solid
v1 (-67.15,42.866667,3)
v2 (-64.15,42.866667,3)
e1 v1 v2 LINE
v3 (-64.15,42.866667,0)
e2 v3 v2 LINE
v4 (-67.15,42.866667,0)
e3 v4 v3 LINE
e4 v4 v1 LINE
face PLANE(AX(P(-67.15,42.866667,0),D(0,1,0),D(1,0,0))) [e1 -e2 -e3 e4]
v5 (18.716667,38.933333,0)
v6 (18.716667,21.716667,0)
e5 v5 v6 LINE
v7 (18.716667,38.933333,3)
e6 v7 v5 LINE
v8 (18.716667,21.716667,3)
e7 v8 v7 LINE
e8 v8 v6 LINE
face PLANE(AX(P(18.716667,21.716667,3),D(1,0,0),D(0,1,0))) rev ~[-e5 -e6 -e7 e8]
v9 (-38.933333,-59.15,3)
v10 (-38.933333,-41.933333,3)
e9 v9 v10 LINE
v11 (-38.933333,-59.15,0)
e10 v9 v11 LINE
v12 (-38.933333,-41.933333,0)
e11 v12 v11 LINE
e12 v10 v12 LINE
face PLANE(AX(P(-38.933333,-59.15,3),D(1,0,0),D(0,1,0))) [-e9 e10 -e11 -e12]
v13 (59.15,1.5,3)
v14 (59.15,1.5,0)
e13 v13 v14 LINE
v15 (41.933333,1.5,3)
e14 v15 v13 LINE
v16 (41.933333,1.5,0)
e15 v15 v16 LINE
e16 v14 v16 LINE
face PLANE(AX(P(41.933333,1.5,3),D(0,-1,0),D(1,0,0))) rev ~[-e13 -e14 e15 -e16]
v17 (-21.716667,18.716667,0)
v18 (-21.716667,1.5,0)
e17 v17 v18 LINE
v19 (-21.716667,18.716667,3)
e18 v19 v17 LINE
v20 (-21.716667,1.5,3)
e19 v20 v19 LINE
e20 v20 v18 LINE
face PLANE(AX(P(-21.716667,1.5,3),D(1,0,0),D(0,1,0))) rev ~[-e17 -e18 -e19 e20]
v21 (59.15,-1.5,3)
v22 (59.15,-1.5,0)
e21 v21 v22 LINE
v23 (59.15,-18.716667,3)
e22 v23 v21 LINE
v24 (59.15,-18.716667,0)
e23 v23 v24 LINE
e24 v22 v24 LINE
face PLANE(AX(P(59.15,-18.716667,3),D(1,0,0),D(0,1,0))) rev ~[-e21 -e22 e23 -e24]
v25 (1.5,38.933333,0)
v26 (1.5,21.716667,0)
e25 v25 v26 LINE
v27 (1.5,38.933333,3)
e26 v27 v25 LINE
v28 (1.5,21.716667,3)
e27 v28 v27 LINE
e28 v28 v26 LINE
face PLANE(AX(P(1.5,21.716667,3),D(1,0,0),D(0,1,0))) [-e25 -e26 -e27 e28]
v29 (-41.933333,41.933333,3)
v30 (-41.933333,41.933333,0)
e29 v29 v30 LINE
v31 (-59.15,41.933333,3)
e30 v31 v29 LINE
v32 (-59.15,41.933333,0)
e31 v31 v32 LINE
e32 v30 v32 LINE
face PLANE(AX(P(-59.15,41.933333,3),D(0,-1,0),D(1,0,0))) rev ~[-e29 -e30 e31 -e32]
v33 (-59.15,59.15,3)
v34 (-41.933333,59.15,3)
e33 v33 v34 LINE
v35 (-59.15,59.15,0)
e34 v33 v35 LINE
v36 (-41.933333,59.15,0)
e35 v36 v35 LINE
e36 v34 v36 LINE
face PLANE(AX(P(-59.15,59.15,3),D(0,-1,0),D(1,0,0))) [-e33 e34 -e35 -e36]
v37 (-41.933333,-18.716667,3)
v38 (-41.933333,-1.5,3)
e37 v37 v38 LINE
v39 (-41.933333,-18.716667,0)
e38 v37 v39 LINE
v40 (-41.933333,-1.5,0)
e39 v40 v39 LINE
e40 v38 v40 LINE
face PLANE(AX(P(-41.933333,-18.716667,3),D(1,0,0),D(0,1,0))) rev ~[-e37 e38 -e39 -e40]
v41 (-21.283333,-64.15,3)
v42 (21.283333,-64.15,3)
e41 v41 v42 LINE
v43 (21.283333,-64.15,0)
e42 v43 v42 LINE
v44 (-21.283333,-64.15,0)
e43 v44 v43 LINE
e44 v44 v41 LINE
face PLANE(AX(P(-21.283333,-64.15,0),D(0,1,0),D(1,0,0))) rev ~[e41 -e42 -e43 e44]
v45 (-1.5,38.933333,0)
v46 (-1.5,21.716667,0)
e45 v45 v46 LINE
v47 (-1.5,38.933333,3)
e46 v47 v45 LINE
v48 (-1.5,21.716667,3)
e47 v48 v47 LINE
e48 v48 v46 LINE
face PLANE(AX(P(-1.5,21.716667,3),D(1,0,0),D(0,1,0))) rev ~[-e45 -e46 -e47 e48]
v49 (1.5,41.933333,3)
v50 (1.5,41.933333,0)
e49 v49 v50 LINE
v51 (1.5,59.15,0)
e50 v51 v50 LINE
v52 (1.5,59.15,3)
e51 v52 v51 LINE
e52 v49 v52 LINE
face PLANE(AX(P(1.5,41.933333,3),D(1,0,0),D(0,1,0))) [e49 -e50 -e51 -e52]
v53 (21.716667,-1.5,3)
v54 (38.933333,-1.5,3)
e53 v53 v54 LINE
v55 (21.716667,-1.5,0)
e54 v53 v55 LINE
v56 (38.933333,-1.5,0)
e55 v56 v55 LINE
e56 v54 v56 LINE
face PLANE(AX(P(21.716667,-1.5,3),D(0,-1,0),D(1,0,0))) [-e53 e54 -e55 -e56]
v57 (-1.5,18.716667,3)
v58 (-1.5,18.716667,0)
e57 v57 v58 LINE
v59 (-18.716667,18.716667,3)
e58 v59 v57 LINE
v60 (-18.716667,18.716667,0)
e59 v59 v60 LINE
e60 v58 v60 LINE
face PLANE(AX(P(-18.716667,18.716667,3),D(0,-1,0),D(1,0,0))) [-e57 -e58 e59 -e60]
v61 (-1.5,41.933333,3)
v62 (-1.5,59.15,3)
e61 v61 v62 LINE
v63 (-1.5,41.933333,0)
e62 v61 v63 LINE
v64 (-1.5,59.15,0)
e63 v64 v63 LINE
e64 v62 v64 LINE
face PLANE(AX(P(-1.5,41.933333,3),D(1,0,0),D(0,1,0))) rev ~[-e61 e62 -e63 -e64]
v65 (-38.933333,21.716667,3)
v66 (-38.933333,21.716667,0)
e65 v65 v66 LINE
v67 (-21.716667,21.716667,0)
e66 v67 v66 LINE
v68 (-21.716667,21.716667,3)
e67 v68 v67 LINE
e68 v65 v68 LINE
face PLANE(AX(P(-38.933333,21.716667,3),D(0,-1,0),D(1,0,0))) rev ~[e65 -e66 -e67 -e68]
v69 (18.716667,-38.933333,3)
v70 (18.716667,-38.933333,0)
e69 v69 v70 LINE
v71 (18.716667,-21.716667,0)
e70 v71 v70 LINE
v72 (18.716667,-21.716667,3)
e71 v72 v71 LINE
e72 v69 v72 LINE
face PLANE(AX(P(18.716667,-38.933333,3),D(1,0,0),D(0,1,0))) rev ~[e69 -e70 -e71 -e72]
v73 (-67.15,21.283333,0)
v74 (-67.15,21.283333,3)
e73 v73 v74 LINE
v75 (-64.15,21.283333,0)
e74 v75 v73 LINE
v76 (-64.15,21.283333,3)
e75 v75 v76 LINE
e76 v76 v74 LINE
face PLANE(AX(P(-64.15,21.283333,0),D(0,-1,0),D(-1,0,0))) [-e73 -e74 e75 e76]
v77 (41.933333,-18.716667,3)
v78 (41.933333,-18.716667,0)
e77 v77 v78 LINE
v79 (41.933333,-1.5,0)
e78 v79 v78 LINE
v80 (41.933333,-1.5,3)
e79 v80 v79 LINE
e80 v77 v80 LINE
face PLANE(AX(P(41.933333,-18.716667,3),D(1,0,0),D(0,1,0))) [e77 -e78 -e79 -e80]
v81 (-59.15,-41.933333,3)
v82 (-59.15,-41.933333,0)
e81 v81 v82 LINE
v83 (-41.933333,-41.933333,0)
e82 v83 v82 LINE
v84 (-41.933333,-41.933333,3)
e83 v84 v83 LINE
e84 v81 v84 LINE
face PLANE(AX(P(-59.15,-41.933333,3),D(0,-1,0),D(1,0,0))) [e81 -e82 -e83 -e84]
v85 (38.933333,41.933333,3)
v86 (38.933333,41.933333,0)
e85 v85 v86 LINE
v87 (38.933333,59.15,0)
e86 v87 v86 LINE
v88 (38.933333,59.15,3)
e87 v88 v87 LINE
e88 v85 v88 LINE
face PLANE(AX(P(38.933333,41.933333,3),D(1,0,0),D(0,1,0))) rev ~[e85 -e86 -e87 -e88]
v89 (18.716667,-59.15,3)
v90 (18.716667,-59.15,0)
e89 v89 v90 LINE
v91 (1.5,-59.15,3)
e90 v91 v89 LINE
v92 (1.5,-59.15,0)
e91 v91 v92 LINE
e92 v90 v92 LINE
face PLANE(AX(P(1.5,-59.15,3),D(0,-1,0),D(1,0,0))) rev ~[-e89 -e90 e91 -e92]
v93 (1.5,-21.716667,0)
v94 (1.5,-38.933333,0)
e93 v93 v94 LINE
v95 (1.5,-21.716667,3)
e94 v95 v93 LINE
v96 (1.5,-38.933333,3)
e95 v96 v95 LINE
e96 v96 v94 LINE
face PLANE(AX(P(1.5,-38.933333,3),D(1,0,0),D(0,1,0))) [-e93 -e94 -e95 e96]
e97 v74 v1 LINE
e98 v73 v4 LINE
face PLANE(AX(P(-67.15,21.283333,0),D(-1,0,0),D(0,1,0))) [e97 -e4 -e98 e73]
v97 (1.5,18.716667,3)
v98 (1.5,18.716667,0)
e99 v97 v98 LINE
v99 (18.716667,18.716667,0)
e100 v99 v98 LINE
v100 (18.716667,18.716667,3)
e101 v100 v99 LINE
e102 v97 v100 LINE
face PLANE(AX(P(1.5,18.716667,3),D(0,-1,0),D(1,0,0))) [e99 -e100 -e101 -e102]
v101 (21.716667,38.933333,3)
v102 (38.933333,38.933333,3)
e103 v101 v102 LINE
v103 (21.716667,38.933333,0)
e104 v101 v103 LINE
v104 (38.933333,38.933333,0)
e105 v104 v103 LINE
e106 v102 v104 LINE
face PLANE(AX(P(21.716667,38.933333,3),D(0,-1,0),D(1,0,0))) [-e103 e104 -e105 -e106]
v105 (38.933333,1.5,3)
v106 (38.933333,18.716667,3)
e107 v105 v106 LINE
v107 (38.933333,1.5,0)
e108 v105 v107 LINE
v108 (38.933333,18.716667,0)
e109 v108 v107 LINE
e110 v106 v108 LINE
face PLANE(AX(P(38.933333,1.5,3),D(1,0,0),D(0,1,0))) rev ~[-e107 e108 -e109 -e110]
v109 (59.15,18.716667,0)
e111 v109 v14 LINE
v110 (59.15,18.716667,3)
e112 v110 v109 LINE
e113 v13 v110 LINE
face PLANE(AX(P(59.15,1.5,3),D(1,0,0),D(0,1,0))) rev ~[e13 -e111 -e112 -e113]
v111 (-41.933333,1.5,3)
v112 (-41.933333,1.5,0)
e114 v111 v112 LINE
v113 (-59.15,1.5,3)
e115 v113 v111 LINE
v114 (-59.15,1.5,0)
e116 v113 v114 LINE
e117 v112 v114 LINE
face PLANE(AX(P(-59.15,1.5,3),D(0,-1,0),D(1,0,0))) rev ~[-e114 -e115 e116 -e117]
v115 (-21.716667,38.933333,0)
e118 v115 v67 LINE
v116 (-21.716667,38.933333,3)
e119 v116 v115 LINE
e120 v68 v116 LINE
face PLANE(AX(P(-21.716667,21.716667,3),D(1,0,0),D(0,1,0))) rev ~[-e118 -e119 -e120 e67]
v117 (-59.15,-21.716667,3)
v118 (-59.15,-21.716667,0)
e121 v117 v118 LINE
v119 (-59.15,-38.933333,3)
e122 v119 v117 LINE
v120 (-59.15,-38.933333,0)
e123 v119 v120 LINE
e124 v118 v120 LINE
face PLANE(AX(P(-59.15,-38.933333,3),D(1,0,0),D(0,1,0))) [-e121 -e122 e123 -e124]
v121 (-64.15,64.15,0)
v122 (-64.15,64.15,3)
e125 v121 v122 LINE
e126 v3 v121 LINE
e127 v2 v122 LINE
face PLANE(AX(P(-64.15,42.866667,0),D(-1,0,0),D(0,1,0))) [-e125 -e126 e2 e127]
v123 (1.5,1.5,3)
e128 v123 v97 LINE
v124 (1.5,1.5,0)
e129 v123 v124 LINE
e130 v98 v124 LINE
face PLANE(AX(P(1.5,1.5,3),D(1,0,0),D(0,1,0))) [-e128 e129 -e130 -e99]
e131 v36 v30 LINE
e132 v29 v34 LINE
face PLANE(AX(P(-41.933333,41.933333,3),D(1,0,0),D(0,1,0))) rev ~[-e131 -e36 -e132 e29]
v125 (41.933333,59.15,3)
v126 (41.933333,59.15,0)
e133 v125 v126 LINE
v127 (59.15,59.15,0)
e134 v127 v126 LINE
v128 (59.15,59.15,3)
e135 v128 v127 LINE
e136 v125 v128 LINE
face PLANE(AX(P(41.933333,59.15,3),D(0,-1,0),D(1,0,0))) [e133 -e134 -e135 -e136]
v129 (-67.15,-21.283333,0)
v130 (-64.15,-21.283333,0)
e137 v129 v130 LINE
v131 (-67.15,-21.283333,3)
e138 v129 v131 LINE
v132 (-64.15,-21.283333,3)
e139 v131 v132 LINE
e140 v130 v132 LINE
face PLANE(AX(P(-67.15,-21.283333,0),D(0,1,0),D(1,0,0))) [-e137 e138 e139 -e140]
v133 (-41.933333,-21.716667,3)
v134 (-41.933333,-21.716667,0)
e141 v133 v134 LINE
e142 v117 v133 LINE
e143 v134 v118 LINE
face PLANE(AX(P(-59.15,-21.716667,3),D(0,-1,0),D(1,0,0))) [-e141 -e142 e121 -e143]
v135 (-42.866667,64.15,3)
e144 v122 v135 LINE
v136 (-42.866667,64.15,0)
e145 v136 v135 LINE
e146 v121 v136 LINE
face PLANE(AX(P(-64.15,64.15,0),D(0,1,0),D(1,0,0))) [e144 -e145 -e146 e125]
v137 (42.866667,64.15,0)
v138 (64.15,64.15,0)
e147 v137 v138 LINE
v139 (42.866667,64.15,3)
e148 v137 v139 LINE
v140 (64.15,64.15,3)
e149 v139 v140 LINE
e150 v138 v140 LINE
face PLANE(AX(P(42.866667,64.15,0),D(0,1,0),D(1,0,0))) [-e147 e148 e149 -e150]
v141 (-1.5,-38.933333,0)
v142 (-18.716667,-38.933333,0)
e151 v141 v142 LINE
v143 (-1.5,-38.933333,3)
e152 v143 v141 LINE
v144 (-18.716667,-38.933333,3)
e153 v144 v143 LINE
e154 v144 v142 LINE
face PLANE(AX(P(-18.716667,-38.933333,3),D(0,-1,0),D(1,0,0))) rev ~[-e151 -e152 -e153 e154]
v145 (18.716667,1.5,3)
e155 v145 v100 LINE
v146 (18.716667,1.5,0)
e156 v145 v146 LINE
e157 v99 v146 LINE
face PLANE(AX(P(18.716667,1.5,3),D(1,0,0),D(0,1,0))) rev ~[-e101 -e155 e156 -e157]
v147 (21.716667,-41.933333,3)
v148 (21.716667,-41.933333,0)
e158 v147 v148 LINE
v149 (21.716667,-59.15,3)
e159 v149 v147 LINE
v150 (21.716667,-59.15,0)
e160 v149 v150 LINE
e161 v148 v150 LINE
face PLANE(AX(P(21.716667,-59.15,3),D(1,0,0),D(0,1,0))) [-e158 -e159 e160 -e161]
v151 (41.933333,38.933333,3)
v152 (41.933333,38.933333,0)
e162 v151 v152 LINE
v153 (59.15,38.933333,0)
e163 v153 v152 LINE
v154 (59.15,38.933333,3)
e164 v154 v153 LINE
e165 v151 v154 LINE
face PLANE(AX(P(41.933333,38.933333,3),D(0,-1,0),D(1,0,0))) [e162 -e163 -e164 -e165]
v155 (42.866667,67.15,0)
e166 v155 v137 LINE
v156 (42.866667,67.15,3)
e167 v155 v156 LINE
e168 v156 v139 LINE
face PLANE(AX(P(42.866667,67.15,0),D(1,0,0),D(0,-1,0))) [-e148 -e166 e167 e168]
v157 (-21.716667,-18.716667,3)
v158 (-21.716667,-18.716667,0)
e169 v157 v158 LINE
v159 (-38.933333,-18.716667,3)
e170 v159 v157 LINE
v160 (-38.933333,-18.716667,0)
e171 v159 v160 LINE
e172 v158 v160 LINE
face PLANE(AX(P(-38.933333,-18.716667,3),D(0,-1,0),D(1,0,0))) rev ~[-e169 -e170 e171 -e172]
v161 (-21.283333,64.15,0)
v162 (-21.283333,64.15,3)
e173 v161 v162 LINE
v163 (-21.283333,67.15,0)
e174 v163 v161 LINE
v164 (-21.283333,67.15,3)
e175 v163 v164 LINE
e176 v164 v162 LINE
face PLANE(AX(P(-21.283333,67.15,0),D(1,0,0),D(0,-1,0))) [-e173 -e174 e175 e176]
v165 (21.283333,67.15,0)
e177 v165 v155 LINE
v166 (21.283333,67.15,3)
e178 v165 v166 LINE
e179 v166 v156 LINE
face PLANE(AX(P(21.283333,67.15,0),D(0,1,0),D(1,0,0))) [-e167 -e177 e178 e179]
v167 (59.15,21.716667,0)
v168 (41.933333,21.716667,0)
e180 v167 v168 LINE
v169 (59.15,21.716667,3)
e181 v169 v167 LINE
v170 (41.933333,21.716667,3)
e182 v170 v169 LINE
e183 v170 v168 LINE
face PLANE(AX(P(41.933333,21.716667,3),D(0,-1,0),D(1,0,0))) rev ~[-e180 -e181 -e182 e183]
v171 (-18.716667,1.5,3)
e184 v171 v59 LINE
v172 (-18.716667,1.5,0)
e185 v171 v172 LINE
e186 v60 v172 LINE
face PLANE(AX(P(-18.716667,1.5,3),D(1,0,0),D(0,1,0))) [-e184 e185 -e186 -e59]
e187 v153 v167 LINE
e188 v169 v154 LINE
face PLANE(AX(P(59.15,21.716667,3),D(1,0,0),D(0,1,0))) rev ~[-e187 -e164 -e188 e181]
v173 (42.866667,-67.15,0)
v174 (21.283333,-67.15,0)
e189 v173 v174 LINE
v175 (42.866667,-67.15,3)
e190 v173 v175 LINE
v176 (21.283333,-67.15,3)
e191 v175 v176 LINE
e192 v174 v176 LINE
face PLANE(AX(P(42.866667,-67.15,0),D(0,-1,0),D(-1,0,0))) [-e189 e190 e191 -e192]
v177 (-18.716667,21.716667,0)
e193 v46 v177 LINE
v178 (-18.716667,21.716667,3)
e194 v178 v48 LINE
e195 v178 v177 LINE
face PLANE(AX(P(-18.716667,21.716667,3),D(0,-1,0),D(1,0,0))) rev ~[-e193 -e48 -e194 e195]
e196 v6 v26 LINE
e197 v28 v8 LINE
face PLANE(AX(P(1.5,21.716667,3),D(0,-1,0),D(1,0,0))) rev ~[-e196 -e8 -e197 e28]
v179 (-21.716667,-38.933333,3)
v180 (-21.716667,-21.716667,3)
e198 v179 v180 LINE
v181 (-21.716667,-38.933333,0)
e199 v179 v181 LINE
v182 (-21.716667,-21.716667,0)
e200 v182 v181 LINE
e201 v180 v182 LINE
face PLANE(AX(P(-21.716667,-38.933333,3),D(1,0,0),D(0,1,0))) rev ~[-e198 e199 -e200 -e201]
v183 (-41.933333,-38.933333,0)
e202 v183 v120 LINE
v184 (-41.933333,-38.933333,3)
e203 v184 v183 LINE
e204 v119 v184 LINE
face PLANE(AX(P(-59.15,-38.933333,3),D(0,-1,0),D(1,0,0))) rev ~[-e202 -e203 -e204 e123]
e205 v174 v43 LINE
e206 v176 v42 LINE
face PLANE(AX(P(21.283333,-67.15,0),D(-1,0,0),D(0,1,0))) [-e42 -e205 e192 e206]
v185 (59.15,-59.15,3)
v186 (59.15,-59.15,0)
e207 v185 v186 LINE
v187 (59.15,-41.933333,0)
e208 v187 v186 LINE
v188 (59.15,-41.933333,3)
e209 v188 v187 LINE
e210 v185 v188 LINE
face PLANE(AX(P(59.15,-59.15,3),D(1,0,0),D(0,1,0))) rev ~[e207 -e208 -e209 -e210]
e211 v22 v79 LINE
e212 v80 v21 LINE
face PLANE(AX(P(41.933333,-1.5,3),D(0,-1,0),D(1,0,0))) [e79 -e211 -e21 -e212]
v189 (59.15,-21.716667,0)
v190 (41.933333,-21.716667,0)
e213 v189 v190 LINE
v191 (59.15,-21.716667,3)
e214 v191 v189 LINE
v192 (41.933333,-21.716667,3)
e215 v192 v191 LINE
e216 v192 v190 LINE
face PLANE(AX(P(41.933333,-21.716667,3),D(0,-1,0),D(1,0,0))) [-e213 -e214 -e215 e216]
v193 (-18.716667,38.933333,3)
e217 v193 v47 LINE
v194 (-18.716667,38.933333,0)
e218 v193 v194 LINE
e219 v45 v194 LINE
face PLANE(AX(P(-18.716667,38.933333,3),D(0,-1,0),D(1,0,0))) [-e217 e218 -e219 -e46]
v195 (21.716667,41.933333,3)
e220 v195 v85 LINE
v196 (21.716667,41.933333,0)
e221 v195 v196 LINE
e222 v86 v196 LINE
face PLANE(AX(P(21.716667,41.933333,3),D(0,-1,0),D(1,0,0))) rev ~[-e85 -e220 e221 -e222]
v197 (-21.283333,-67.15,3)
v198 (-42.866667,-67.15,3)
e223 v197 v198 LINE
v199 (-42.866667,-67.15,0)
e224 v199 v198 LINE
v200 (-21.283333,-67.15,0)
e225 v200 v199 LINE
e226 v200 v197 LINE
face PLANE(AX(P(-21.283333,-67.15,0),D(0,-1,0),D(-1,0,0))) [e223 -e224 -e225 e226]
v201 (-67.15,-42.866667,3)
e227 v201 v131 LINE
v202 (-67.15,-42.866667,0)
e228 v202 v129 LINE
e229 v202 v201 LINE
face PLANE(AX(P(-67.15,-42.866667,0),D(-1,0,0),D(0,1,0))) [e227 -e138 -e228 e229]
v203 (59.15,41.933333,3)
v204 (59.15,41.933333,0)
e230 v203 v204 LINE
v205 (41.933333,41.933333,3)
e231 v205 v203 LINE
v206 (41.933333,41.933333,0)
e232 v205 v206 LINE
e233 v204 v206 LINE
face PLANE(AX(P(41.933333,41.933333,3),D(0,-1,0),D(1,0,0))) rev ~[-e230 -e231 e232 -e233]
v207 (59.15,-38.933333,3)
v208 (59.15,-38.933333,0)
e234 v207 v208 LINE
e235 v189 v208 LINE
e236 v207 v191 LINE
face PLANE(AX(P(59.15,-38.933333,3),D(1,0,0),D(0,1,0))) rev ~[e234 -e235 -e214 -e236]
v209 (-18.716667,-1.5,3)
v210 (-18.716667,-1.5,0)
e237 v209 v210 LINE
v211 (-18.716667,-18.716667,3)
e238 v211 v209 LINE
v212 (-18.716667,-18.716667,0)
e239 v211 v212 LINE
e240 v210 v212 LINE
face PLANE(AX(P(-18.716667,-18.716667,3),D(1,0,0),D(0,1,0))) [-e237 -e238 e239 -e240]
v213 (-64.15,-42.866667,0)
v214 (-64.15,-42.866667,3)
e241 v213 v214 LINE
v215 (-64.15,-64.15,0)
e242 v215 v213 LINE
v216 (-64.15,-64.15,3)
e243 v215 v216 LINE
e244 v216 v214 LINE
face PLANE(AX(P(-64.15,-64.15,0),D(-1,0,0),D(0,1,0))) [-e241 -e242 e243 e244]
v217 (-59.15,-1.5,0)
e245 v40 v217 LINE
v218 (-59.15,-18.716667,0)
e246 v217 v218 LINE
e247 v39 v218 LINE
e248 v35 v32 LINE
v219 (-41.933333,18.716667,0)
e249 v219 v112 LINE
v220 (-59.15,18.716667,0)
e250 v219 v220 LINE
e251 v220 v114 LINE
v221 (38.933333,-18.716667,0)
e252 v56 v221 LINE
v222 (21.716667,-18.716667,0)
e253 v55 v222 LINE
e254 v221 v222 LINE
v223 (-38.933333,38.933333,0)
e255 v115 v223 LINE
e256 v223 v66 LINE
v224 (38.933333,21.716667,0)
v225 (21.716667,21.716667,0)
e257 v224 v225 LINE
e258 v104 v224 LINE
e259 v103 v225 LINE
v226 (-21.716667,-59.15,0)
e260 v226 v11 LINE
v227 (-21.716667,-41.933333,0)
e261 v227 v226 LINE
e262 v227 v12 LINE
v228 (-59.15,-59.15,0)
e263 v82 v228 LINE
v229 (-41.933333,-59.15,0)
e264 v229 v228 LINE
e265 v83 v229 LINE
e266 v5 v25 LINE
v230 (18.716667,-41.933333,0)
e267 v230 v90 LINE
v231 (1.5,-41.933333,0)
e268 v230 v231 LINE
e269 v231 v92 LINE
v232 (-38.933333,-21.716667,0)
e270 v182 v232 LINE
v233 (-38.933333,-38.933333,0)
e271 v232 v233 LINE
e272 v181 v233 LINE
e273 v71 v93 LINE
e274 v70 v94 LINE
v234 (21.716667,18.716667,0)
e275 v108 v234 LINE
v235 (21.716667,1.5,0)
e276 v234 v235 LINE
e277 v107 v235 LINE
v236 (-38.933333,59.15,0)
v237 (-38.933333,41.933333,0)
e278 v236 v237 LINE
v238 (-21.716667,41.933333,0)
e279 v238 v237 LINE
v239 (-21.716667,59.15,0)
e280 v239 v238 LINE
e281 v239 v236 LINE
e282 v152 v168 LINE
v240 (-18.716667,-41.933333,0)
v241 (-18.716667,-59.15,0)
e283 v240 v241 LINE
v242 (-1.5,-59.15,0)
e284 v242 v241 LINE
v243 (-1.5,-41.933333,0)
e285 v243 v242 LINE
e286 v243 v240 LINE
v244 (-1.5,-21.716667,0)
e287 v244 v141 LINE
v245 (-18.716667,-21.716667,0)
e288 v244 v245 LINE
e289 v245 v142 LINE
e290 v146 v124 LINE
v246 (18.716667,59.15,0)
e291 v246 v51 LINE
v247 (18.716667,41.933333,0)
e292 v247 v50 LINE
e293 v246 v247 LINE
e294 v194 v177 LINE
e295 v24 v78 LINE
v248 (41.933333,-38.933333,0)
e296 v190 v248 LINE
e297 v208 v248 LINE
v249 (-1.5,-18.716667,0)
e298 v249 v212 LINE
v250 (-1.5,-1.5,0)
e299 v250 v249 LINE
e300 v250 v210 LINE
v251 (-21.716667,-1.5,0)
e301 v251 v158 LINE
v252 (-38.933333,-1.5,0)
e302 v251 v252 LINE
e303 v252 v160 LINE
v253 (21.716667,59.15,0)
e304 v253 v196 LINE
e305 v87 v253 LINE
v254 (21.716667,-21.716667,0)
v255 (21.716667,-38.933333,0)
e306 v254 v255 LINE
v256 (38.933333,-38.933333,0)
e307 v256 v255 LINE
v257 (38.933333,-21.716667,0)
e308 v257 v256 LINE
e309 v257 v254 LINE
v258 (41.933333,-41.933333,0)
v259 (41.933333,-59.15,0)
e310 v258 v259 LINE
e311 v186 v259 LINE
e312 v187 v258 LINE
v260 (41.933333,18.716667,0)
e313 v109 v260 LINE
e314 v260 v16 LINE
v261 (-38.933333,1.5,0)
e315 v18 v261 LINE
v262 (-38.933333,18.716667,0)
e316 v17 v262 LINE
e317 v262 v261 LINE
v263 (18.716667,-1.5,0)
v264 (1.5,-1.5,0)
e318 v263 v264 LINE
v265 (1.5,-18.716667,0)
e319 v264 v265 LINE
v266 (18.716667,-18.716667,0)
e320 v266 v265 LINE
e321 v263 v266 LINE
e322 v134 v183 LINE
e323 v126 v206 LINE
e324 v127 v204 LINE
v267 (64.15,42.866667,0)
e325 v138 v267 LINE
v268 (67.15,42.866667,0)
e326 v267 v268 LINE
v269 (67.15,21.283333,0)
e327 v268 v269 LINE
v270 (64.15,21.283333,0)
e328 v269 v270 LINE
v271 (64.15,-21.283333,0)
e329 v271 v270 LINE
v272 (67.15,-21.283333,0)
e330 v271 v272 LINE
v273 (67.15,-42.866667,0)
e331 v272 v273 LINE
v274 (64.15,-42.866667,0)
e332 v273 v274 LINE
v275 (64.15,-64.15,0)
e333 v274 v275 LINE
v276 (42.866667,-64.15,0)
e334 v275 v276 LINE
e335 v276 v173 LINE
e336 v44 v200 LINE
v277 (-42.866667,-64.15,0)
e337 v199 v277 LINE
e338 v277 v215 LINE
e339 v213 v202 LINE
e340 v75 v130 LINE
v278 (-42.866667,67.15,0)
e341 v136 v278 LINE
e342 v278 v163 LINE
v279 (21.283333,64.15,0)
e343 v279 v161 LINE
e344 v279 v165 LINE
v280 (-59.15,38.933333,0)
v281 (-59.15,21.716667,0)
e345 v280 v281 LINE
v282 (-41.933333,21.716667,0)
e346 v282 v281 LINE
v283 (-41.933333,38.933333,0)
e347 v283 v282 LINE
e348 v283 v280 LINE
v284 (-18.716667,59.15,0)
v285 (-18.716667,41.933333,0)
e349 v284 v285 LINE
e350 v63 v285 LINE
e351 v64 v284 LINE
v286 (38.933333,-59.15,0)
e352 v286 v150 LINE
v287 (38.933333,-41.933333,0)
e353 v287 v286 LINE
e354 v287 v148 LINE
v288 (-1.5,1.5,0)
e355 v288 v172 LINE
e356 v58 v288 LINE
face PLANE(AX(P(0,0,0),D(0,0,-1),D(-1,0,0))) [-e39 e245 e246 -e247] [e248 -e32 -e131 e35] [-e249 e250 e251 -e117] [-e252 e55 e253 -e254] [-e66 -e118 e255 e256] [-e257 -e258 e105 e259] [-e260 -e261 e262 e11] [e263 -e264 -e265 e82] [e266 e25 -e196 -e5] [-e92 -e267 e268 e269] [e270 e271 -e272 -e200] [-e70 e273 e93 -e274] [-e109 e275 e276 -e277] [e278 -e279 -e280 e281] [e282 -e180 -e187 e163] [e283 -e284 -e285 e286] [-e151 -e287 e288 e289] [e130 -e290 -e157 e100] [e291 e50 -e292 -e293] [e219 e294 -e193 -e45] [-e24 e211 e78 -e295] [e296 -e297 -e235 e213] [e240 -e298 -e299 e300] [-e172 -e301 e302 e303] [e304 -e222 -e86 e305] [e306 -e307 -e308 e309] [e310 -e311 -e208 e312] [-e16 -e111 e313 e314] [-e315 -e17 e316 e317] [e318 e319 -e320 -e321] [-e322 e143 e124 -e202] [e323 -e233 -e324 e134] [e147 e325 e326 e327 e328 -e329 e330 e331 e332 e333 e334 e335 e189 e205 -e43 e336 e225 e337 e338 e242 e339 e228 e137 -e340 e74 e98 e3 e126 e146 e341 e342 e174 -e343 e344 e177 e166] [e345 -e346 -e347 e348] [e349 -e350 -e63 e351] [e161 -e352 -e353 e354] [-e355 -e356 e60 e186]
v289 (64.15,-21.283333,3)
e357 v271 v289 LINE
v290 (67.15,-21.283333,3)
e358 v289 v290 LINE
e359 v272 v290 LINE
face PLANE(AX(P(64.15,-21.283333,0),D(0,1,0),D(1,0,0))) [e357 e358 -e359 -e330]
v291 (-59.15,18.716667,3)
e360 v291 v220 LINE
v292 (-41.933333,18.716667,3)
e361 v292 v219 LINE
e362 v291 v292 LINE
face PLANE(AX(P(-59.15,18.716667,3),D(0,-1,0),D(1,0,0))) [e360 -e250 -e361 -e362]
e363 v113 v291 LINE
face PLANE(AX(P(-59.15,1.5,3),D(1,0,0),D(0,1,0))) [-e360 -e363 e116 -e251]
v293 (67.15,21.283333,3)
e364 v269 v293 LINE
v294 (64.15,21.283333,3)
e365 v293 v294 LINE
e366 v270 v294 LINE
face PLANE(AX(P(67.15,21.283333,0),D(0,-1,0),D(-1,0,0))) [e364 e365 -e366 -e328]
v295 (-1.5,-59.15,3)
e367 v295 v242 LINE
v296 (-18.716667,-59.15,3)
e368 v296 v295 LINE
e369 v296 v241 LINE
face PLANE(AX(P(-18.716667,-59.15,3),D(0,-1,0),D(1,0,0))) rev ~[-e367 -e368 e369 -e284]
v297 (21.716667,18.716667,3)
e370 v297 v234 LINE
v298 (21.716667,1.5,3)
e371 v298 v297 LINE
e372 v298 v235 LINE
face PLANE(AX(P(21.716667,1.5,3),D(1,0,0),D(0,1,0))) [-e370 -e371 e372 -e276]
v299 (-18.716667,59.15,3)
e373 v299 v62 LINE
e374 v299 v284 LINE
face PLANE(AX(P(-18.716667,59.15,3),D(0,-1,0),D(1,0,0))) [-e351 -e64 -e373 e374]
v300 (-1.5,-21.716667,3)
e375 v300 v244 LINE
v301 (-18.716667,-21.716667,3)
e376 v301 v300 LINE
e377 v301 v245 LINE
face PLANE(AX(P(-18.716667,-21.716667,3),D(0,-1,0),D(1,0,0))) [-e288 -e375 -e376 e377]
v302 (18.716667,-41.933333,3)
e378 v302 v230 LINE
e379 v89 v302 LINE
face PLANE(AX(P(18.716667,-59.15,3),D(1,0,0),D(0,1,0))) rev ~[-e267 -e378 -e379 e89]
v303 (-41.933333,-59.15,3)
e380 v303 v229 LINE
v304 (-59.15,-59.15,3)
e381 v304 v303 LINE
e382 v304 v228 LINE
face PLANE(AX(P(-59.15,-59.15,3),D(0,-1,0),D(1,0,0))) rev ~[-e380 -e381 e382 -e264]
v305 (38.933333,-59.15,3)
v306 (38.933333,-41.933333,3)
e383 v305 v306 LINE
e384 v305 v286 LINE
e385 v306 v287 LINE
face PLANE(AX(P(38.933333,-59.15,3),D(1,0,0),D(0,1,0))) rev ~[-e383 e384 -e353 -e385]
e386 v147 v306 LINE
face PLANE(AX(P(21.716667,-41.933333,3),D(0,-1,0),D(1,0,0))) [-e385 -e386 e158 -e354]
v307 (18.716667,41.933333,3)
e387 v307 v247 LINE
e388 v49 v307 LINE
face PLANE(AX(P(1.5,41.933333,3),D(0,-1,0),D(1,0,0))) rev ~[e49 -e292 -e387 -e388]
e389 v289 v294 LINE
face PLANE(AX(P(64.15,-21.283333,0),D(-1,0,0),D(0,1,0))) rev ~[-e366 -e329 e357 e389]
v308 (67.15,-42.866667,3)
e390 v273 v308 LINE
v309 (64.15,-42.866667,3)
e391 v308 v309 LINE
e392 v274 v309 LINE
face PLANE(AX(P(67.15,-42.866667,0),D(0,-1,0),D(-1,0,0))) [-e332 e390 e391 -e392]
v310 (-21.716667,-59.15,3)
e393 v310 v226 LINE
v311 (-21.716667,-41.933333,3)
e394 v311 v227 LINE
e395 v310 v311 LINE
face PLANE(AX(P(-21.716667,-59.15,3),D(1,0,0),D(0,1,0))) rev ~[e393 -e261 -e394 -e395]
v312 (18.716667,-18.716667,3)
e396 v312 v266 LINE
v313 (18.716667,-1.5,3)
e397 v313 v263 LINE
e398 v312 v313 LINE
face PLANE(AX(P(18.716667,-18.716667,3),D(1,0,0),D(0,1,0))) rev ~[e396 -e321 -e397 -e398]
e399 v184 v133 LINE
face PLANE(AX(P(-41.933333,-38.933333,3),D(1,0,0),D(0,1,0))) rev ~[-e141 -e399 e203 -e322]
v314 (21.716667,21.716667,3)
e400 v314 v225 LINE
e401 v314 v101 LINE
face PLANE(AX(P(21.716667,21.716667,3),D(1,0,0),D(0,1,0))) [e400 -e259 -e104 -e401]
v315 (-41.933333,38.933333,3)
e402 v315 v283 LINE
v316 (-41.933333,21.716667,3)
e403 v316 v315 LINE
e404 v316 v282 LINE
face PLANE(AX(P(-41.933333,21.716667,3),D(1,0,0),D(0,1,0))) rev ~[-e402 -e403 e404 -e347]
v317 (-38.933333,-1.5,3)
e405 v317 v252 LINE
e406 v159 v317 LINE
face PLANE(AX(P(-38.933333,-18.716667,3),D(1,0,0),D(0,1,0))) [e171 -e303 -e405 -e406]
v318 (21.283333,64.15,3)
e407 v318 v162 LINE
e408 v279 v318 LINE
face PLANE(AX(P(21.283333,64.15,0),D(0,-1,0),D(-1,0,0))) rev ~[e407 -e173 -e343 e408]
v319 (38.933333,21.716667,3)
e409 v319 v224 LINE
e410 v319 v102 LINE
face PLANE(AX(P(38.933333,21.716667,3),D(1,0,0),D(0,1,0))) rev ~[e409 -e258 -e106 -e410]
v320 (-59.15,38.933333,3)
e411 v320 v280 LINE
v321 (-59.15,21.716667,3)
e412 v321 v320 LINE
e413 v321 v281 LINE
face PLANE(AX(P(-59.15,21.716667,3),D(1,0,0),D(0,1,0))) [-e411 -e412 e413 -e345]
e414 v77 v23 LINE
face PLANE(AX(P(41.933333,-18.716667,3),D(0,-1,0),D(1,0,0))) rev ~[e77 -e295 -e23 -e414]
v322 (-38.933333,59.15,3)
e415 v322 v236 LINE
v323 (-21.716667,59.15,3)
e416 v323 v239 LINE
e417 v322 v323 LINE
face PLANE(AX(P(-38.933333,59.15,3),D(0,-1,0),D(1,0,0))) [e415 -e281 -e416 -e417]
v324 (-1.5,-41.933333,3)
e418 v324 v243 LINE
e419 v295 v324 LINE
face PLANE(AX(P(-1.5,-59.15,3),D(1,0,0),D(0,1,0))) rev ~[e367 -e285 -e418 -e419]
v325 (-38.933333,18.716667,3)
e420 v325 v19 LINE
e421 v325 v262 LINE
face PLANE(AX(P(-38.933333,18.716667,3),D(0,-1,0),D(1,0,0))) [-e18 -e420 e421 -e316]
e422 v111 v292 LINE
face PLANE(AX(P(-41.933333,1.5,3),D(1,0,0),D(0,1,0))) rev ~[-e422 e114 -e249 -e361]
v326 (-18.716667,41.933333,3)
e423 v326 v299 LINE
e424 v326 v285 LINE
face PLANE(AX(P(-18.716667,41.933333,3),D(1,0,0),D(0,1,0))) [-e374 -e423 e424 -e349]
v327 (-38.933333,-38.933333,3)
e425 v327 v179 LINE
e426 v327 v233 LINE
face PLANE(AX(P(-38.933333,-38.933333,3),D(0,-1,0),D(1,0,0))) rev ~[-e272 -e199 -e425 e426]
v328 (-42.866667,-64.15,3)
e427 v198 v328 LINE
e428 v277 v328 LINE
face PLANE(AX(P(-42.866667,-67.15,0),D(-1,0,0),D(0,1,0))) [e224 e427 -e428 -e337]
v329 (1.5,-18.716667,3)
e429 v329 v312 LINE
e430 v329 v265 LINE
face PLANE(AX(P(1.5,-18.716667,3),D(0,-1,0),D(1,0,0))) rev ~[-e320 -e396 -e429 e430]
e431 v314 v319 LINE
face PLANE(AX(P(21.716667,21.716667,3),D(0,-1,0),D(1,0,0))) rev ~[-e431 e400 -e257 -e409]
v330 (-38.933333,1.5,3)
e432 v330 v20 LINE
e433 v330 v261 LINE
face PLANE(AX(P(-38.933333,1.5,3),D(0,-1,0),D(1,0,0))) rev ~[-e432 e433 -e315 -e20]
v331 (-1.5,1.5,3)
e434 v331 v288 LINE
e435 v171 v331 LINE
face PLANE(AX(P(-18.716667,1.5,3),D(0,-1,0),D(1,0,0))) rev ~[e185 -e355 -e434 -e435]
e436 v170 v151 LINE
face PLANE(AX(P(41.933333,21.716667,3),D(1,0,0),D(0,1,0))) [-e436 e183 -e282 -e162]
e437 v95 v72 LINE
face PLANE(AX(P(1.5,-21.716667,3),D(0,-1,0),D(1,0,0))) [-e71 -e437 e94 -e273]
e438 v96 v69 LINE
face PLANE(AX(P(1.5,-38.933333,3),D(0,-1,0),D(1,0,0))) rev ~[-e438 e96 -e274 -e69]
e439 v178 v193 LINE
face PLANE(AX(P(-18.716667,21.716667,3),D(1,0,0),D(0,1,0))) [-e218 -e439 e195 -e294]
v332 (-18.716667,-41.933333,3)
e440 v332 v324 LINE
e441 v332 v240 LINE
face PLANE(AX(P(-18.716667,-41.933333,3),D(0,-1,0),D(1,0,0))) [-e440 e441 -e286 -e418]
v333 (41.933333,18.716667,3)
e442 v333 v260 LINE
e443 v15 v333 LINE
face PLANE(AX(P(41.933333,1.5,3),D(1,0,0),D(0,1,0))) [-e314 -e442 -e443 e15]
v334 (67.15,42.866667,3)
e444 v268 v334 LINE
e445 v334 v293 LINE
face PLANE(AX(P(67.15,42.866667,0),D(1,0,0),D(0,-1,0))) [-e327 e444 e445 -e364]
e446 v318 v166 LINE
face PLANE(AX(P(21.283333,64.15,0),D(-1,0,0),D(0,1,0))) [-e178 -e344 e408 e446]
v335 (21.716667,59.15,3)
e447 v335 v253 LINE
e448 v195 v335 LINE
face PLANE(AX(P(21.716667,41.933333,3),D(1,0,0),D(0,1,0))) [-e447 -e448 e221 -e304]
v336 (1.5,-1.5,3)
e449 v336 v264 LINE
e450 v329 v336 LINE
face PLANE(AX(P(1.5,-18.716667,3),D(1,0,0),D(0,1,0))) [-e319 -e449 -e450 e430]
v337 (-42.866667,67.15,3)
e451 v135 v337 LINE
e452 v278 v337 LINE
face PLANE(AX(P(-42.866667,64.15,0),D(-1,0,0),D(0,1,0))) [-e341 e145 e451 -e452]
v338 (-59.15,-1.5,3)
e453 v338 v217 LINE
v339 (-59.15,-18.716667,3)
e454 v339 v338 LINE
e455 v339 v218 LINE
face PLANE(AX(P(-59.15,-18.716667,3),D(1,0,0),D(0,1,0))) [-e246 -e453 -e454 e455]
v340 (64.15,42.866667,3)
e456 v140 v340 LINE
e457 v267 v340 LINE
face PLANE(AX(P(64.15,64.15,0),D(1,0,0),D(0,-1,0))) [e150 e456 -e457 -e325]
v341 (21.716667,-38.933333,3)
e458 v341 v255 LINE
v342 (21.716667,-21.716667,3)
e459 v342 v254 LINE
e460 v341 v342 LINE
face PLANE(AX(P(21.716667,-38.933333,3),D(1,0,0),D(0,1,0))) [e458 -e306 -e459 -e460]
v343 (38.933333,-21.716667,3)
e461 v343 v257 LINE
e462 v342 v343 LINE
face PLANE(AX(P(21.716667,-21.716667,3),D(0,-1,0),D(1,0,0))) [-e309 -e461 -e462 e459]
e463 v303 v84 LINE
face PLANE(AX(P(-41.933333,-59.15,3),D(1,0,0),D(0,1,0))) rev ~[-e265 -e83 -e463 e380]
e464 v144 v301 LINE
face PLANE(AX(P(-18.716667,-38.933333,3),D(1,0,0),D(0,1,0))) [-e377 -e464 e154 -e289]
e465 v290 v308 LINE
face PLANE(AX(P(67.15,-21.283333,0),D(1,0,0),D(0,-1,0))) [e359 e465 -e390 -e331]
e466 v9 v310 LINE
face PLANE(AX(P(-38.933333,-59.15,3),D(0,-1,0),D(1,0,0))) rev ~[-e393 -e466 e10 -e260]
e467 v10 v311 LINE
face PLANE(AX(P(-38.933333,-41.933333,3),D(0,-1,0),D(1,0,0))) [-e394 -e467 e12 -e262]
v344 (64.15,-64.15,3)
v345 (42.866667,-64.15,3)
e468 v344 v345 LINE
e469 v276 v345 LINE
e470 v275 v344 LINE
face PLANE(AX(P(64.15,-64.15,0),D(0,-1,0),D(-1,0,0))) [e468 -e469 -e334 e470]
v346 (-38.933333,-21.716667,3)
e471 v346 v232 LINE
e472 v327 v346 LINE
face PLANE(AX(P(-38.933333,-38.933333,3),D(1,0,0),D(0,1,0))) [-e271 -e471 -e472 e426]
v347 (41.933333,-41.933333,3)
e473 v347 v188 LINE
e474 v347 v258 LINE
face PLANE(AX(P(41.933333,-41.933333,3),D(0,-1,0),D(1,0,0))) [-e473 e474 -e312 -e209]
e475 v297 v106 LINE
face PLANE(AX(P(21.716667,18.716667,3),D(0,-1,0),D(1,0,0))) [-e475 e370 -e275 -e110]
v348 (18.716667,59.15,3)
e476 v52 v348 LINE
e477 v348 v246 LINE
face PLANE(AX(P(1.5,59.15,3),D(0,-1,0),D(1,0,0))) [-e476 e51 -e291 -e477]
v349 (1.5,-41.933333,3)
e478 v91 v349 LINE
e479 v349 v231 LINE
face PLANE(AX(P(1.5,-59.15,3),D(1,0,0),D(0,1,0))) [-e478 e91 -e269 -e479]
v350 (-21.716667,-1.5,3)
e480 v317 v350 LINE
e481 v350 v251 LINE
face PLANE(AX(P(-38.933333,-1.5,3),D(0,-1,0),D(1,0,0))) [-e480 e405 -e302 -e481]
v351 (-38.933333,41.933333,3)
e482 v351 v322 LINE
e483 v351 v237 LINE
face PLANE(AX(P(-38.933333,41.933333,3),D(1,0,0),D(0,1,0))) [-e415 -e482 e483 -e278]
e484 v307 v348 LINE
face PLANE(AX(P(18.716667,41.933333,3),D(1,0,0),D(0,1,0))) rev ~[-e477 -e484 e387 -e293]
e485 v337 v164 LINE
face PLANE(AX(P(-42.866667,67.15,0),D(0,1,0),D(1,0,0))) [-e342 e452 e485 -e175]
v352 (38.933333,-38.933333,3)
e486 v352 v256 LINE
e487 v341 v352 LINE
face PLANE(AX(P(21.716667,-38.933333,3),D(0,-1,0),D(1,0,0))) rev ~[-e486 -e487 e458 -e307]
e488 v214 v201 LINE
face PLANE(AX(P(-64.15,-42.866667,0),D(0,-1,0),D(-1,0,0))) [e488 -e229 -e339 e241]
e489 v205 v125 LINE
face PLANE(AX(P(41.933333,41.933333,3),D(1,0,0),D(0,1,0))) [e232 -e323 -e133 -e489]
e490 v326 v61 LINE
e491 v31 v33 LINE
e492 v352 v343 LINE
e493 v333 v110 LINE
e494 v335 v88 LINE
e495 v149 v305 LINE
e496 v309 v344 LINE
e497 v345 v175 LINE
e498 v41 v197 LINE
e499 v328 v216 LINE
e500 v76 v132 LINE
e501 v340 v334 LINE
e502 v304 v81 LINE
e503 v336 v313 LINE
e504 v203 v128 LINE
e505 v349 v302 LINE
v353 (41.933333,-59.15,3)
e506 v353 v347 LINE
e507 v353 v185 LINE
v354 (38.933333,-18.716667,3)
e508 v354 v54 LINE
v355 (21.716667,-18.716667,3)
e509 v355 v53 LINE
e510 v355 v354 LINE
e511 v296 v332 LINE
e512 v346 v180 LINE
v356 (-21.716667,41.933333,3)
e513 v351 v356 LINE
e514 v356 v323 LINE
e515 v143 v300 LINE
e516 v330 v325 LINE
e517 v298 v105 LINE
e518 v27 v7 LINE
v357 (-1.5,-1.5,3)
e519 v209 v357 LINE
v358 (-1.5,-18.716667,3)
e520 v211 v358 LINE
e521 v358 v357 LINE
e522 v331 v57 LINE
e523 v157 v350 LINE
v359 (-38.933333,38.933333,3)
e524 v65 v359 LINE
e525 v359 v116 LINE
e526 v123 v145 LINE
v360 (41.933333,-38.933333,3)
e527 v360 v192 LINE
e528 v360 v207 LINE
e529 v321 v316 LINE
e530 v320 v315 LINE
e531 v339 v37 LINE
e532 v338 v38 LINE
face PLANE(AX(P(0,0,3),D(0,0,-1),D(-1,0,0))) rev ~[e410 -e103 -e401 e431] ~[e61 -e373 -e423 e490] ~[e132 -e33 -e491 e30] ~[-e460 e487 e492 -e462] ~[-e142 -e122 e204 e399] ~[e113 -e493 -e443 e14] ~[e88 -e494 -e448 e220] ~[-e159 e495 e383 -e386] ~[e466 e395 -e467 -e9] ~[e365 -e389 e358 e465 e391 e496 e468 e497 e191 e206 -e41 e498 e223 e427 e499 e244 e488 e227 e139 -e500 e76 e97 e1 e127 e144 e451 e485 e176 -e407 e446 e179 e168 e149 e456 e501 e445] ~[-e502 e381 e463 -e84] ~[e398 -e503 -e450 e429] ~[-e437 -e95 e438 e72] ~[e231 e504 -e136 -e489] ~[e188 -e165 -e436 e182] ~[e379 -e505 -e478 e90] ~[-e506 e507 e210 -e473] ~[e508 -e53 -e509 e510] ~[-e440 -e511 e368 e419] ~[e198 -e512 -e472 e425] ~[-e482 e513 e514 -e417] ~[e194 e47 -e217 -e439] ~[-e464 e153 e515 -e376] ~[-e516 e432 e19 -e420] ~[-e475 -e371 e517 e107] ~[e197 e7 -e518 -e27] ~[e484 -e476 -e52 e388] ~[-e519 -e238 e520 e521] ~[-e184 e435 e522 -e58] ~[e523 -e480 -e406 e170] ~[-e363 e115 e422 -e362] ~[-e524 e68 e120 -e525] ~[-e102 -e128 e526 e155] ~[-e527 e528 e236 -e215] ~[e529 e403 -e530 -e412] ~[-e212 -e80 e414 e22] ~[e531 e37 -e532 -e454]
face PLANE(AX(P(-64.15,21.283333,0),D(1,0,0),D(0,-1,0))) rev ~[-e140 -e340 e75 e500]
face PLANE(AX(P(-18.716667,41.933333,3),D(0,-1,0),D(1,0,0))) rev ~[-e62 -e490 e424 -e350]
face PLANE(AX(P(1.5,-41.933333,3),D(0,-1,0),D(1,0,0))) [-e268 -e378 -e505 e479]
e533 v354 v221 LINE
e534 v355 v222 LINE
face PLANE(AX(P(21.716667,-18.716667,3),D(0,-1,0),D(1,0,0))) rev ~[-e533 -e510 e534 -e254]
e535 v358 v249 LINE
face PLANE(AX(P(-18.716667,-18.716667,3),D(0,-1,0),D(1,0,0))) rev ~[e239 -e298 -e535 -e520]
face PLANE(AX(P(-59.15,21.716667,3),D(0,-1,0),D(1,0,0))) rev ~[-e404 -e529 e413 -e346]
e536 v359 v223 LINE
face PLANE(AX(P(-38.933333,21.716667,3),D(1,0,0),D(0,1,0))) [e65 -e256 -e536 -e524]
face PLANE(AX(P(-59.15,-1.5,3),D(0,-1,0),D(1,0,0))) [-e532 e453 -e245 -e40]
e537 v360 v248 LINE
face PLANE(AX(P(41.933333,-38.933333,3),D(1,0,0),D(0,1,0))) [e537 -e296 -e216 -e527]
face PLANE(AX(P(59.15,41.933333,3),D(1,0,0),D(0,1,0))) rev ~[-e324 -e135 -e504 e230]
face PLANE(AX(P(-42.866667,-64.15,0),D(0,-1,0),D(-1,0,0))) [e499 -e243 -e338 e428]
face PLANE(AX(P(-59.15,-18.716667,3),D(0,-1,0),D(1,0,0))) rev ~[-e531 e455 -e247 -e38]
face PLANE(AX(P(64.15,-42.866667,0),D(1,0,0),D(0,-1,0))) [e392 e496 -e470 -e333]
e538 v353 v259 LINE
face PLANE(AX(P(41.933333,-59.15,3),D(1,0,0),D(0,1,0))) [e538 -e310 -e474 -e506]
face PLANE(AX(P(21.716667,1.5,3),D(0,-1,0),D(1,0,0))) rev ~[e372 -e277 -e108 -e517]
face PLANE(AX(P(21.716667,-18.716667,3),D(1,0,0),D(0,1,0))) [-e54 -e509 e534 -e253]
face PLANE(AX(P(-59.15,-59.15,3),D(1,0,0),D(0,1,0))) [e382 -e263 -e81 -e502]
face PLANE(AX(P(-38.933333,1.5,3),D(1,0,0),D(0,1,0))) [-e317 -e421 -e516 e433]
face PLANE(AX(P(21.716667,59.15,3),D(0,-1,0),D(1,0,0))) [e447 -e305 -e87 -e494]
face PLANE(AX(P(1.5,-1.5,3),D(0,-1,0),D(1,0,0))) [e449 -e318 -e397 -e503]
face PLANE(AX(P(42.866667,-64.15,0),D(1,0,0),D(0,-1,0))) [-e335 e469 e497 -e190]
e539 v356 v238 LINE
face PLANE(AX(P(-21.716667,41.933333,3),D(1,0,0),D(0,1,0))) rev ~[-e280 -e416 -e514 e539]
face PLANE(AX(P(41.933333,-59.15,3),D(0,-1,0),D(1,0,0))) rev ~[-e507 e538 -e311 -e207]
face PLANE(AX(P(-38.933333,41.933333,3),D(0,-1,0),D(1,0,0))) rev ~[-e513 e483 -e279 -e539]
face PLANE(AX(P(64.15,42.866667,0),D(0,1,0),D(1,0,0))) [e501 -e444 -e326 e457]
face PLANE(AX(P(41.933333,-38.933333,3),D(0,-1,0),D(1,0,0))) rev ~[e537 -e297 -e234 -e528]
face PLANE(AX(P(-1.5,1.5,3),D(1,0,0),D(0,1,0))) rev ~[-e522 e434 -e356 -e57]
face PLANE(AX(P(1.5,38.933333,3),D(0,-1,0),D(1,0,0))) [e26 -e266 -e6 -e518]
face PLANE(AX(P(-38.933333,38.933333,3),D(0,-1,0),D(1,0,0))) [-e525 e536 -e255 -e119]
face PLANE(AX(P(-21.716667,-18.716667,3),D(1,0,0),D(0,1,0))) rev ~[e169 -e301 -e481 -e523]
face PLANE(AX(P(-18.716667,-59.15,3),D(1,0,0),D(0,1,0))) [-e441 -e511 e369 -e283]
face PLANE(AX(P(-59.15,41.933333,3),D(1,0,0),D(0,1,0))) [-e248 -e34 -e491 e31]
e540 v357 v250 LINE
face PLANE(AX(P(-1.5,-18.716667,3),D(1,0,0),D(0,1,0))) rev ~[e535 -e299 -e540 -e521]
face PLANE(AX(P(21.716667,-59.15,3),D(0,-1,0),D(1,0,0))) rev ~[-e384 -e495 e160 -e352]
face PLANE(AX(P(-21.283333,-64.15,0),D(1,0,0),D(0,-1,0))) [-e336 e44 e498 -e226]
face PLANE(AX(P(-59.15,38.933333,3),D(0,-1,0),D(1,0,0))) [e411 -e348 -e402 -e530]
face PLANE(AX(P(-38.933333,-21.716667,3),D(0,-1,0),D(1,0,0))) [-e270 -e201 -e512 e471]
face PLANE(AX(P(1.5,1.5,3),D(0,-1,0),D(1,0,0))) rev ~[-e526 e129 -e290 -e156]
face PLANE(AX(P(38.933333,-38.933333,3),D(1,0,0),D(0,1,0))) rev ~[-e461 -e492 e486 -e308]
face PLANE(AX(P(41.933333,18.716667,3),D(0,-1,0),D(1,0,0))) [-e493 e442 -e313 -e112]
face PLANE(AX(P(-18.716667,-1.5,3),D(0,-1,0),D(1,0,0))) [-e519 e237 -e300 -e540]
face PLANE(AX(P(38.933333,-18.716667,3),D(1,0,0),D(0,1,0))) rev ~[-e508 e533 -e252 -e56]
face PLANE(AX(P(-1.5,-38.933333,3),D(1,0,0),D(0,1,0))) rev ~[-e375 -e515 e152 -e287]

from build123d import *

# Parameters (mm, degrees)
BOSS_EXTRUDE1_DEPTH = 3
SKETCH2_W           = 17.216666667
SKETCH2_H           = 17.216666667
SKETCH2_W_2         = 17.216666666
SKETCH2_H_2         = 17.216666666
CUT_EXTRUDE1_DEPTH  = 96.011815055


with BuildPart() as part:
    # Sketch1 → Boss-Extrude1 (new body)
    with BuildSketch(Plane.XY):
        Polygon((0, -64.15), (-21.283333333, -64.15), (-21.283333333, -67.15), (-42.866666667, -67.15), (-42.866666667, -64.15), (-64.15, -64.15), (-64.15, -42.866666667), (-67.15, -42.866666667), (-67.15, -21.283333333), (-64.15, -21.283333333), (-64.15, 0), (-64.15, 21.283333333), (-67.15, 21.283333333), (-67.15, 42.866666667), (-64.15, 42.866666667), (-64.15, 64.15), (-42.866666667, 64.15), (-42.866666667, 67.15), (-21.283333333, 67.15), (-21.283333333, 64.15), (0, 64.15), (21.283333333, 64.15), (21.283333333, 67.15), (42.866666667, 67.15), (42.866666667, 64.15), (64.15, 64.15), (64.15, 42.866666667), (67.15, 42.866666667), (67.15, 21.283333333), (64.15, 21.283333333), (64.15, 0), (64.15, -21.283333333), (67.15, -21.283333333), (67.15, -42.866666667), (64.15, -42.866666667), (64.15, -64.15), (42.866666667, -64.15), (42.866666667, -67.15), (21.283333333, -67.15), (21.283333333, -64.15), align=None)
    extrude(amount=BOSS_EXTRUDE1_DEPTH)

    # Sketch2 → Cut-Extrude1 (cut, through all)
    with BuildSketch(Plane.XY.offset(3)):
        with Locations((-50.541666667, 50.541666667)):
            Rectangle(SKETCH2_W, SKETCH2_H)
        with Locations((-30.325, 50.541666667)):
            Rectangle(SKETCH2_W_2, SKETCH2_H)
        with Locations((-10.108333334, 50.541666667)):
            Rectangle(SKETCH2_W, SKETCH2_H)
        with Locations((10.108333334, 50.541666667)):
            Rectangle(SKETCH2_W, SKETCH2_H)
        with Locations((30.325, 50.541666667)):
            Rectangle(SKETCH2_W_2, SKETCH2_H)
        with Locations((50.541666667, 50.541666667)):
            Rectangle(SKETCH2_W, SKETCH2_H)
        with Locations((-30.325, 30.325)):
            Rectangle(SKETCH2_W_2, SKETCH2_H_2)
        with Locations((-10.108333334, 30.325)):
            Rectangle(SKETCH2_W, SKETCH2_H_2)
        with Locations((10.108333334, 30.325)):
            Rectangle(SKETCH2_W, SKETCH2_H_2)
        with Locations((30.325, 30.325)):
            Rectangle(SKETCH2_W_2, SKETCH2_H_2)
        with Locations((50.541666667, 30.325)):
            Rectangle(SKETCH2_W, SKETCH2_H_2)
        with Locations((-30.325, 10.108333334)):
            Rectangle(SKETCH2_W_2, SKETCH2_H)
        with Locations((-10.108333334, 10.108333334)):
            Rectangle(SKETCH2_W, SKETCH2_H)
        with Locations((10.108333334, 10.108333334)):
            Rectangle(SKETCH2_W, SKETCH2_H)
        with Locations((30.325, 10.108333334)):
            Rectangle(SKETCH2_W_2, SKETCH2_H)
        with Locations((50.541666667, 10.108333334)):
            Rectangle(SKETCH2_W, SKETCH2_H)
        with Locations((-30.325, -10.108333334)):
            Rectangle(SKETCH2_W_2, SKETCH2_H)
        with Locations((-10.108333334, -10.108333334)):
            Rectangle(SKETCH2_W, SKETCH2_H)
        with Locations((10.108333334, -10.108333334)):
            Rectangle(SKETCH2_W, SKETCH2_H)
        with Locations((30.325, -10.108333334)):
            Rectangle(SKETCH2_W_2, SKETCH2_H)
        with Locations((50.541666667, -10.108333334)):
            Rectangle(SKETCH2_W, SKETCH2_H)
        with Locations((-30.325, -30.325)):
            Rectangle(SKETCH2_W_2, SKETCH2_H_2)
        with Locations((-10.108333334, -30.325)):
            Rectangle(SKETCH2_W, SKETCH2_H_2)
        with Locations((10.108333334, -30.325)):
            Rectangle(SKETCH2_W, SKETCH2_H_2)
        with Locations((30.325, -30.325)):
            Rectangle(SKETCH2_W_2, SKETCH2_H_2)
        with Locations((50.541666667, -30.325)):
            Rectangle(SKETCH2_W, SKETCH2_H_2)
        with Locations((-30.325, -50.541666667)):
            Rectangle(SKETCH2_W_2, SKETCH2_H)
        with Locations((-10.108333334, -50.541666667)):
            Rectangle(SKETCH2_W, SKETCH2_H)
        with Locations((10.108333334, -50.541666667)):
            Rectangle(SKETCH2_W, SKETCH2_H)
        with Locations((30.325, -50.541666667)):
            Rectangle(SKETCH2_W_2, SKETCH2_H)
        with Locations((50.541666667, -50.541666667)):
            Rectangle(SKETCH2_W, SKETCH2_H)
        with Locations((-50.541666667, 30.325)):
            Rectangle(SKETCH2_W, SKETCH2_H_2)
        with Locations((-50.541666667, 10.108333334)):
            Rectangle(SKETCH2_W, SKETCH2_H)
        with Locations((-50.541666667, -10.108333334)):
            Rectangle(SKETCH2_W, SKETCH2_H)
        with Locations((-50.541666667, -30.325)):
            Rectangle(SKETCH2_W, SKETCH2_H_2)
        with Locations((-50.541666667, -50.541666667)):
            Rectangle(SKETCH2_W, SKETCH2_H)
    extrude(amount=-CUT_EXTRUDE1_DEPTH, mode=Mode.SUBTRACT)


solid = part.part
